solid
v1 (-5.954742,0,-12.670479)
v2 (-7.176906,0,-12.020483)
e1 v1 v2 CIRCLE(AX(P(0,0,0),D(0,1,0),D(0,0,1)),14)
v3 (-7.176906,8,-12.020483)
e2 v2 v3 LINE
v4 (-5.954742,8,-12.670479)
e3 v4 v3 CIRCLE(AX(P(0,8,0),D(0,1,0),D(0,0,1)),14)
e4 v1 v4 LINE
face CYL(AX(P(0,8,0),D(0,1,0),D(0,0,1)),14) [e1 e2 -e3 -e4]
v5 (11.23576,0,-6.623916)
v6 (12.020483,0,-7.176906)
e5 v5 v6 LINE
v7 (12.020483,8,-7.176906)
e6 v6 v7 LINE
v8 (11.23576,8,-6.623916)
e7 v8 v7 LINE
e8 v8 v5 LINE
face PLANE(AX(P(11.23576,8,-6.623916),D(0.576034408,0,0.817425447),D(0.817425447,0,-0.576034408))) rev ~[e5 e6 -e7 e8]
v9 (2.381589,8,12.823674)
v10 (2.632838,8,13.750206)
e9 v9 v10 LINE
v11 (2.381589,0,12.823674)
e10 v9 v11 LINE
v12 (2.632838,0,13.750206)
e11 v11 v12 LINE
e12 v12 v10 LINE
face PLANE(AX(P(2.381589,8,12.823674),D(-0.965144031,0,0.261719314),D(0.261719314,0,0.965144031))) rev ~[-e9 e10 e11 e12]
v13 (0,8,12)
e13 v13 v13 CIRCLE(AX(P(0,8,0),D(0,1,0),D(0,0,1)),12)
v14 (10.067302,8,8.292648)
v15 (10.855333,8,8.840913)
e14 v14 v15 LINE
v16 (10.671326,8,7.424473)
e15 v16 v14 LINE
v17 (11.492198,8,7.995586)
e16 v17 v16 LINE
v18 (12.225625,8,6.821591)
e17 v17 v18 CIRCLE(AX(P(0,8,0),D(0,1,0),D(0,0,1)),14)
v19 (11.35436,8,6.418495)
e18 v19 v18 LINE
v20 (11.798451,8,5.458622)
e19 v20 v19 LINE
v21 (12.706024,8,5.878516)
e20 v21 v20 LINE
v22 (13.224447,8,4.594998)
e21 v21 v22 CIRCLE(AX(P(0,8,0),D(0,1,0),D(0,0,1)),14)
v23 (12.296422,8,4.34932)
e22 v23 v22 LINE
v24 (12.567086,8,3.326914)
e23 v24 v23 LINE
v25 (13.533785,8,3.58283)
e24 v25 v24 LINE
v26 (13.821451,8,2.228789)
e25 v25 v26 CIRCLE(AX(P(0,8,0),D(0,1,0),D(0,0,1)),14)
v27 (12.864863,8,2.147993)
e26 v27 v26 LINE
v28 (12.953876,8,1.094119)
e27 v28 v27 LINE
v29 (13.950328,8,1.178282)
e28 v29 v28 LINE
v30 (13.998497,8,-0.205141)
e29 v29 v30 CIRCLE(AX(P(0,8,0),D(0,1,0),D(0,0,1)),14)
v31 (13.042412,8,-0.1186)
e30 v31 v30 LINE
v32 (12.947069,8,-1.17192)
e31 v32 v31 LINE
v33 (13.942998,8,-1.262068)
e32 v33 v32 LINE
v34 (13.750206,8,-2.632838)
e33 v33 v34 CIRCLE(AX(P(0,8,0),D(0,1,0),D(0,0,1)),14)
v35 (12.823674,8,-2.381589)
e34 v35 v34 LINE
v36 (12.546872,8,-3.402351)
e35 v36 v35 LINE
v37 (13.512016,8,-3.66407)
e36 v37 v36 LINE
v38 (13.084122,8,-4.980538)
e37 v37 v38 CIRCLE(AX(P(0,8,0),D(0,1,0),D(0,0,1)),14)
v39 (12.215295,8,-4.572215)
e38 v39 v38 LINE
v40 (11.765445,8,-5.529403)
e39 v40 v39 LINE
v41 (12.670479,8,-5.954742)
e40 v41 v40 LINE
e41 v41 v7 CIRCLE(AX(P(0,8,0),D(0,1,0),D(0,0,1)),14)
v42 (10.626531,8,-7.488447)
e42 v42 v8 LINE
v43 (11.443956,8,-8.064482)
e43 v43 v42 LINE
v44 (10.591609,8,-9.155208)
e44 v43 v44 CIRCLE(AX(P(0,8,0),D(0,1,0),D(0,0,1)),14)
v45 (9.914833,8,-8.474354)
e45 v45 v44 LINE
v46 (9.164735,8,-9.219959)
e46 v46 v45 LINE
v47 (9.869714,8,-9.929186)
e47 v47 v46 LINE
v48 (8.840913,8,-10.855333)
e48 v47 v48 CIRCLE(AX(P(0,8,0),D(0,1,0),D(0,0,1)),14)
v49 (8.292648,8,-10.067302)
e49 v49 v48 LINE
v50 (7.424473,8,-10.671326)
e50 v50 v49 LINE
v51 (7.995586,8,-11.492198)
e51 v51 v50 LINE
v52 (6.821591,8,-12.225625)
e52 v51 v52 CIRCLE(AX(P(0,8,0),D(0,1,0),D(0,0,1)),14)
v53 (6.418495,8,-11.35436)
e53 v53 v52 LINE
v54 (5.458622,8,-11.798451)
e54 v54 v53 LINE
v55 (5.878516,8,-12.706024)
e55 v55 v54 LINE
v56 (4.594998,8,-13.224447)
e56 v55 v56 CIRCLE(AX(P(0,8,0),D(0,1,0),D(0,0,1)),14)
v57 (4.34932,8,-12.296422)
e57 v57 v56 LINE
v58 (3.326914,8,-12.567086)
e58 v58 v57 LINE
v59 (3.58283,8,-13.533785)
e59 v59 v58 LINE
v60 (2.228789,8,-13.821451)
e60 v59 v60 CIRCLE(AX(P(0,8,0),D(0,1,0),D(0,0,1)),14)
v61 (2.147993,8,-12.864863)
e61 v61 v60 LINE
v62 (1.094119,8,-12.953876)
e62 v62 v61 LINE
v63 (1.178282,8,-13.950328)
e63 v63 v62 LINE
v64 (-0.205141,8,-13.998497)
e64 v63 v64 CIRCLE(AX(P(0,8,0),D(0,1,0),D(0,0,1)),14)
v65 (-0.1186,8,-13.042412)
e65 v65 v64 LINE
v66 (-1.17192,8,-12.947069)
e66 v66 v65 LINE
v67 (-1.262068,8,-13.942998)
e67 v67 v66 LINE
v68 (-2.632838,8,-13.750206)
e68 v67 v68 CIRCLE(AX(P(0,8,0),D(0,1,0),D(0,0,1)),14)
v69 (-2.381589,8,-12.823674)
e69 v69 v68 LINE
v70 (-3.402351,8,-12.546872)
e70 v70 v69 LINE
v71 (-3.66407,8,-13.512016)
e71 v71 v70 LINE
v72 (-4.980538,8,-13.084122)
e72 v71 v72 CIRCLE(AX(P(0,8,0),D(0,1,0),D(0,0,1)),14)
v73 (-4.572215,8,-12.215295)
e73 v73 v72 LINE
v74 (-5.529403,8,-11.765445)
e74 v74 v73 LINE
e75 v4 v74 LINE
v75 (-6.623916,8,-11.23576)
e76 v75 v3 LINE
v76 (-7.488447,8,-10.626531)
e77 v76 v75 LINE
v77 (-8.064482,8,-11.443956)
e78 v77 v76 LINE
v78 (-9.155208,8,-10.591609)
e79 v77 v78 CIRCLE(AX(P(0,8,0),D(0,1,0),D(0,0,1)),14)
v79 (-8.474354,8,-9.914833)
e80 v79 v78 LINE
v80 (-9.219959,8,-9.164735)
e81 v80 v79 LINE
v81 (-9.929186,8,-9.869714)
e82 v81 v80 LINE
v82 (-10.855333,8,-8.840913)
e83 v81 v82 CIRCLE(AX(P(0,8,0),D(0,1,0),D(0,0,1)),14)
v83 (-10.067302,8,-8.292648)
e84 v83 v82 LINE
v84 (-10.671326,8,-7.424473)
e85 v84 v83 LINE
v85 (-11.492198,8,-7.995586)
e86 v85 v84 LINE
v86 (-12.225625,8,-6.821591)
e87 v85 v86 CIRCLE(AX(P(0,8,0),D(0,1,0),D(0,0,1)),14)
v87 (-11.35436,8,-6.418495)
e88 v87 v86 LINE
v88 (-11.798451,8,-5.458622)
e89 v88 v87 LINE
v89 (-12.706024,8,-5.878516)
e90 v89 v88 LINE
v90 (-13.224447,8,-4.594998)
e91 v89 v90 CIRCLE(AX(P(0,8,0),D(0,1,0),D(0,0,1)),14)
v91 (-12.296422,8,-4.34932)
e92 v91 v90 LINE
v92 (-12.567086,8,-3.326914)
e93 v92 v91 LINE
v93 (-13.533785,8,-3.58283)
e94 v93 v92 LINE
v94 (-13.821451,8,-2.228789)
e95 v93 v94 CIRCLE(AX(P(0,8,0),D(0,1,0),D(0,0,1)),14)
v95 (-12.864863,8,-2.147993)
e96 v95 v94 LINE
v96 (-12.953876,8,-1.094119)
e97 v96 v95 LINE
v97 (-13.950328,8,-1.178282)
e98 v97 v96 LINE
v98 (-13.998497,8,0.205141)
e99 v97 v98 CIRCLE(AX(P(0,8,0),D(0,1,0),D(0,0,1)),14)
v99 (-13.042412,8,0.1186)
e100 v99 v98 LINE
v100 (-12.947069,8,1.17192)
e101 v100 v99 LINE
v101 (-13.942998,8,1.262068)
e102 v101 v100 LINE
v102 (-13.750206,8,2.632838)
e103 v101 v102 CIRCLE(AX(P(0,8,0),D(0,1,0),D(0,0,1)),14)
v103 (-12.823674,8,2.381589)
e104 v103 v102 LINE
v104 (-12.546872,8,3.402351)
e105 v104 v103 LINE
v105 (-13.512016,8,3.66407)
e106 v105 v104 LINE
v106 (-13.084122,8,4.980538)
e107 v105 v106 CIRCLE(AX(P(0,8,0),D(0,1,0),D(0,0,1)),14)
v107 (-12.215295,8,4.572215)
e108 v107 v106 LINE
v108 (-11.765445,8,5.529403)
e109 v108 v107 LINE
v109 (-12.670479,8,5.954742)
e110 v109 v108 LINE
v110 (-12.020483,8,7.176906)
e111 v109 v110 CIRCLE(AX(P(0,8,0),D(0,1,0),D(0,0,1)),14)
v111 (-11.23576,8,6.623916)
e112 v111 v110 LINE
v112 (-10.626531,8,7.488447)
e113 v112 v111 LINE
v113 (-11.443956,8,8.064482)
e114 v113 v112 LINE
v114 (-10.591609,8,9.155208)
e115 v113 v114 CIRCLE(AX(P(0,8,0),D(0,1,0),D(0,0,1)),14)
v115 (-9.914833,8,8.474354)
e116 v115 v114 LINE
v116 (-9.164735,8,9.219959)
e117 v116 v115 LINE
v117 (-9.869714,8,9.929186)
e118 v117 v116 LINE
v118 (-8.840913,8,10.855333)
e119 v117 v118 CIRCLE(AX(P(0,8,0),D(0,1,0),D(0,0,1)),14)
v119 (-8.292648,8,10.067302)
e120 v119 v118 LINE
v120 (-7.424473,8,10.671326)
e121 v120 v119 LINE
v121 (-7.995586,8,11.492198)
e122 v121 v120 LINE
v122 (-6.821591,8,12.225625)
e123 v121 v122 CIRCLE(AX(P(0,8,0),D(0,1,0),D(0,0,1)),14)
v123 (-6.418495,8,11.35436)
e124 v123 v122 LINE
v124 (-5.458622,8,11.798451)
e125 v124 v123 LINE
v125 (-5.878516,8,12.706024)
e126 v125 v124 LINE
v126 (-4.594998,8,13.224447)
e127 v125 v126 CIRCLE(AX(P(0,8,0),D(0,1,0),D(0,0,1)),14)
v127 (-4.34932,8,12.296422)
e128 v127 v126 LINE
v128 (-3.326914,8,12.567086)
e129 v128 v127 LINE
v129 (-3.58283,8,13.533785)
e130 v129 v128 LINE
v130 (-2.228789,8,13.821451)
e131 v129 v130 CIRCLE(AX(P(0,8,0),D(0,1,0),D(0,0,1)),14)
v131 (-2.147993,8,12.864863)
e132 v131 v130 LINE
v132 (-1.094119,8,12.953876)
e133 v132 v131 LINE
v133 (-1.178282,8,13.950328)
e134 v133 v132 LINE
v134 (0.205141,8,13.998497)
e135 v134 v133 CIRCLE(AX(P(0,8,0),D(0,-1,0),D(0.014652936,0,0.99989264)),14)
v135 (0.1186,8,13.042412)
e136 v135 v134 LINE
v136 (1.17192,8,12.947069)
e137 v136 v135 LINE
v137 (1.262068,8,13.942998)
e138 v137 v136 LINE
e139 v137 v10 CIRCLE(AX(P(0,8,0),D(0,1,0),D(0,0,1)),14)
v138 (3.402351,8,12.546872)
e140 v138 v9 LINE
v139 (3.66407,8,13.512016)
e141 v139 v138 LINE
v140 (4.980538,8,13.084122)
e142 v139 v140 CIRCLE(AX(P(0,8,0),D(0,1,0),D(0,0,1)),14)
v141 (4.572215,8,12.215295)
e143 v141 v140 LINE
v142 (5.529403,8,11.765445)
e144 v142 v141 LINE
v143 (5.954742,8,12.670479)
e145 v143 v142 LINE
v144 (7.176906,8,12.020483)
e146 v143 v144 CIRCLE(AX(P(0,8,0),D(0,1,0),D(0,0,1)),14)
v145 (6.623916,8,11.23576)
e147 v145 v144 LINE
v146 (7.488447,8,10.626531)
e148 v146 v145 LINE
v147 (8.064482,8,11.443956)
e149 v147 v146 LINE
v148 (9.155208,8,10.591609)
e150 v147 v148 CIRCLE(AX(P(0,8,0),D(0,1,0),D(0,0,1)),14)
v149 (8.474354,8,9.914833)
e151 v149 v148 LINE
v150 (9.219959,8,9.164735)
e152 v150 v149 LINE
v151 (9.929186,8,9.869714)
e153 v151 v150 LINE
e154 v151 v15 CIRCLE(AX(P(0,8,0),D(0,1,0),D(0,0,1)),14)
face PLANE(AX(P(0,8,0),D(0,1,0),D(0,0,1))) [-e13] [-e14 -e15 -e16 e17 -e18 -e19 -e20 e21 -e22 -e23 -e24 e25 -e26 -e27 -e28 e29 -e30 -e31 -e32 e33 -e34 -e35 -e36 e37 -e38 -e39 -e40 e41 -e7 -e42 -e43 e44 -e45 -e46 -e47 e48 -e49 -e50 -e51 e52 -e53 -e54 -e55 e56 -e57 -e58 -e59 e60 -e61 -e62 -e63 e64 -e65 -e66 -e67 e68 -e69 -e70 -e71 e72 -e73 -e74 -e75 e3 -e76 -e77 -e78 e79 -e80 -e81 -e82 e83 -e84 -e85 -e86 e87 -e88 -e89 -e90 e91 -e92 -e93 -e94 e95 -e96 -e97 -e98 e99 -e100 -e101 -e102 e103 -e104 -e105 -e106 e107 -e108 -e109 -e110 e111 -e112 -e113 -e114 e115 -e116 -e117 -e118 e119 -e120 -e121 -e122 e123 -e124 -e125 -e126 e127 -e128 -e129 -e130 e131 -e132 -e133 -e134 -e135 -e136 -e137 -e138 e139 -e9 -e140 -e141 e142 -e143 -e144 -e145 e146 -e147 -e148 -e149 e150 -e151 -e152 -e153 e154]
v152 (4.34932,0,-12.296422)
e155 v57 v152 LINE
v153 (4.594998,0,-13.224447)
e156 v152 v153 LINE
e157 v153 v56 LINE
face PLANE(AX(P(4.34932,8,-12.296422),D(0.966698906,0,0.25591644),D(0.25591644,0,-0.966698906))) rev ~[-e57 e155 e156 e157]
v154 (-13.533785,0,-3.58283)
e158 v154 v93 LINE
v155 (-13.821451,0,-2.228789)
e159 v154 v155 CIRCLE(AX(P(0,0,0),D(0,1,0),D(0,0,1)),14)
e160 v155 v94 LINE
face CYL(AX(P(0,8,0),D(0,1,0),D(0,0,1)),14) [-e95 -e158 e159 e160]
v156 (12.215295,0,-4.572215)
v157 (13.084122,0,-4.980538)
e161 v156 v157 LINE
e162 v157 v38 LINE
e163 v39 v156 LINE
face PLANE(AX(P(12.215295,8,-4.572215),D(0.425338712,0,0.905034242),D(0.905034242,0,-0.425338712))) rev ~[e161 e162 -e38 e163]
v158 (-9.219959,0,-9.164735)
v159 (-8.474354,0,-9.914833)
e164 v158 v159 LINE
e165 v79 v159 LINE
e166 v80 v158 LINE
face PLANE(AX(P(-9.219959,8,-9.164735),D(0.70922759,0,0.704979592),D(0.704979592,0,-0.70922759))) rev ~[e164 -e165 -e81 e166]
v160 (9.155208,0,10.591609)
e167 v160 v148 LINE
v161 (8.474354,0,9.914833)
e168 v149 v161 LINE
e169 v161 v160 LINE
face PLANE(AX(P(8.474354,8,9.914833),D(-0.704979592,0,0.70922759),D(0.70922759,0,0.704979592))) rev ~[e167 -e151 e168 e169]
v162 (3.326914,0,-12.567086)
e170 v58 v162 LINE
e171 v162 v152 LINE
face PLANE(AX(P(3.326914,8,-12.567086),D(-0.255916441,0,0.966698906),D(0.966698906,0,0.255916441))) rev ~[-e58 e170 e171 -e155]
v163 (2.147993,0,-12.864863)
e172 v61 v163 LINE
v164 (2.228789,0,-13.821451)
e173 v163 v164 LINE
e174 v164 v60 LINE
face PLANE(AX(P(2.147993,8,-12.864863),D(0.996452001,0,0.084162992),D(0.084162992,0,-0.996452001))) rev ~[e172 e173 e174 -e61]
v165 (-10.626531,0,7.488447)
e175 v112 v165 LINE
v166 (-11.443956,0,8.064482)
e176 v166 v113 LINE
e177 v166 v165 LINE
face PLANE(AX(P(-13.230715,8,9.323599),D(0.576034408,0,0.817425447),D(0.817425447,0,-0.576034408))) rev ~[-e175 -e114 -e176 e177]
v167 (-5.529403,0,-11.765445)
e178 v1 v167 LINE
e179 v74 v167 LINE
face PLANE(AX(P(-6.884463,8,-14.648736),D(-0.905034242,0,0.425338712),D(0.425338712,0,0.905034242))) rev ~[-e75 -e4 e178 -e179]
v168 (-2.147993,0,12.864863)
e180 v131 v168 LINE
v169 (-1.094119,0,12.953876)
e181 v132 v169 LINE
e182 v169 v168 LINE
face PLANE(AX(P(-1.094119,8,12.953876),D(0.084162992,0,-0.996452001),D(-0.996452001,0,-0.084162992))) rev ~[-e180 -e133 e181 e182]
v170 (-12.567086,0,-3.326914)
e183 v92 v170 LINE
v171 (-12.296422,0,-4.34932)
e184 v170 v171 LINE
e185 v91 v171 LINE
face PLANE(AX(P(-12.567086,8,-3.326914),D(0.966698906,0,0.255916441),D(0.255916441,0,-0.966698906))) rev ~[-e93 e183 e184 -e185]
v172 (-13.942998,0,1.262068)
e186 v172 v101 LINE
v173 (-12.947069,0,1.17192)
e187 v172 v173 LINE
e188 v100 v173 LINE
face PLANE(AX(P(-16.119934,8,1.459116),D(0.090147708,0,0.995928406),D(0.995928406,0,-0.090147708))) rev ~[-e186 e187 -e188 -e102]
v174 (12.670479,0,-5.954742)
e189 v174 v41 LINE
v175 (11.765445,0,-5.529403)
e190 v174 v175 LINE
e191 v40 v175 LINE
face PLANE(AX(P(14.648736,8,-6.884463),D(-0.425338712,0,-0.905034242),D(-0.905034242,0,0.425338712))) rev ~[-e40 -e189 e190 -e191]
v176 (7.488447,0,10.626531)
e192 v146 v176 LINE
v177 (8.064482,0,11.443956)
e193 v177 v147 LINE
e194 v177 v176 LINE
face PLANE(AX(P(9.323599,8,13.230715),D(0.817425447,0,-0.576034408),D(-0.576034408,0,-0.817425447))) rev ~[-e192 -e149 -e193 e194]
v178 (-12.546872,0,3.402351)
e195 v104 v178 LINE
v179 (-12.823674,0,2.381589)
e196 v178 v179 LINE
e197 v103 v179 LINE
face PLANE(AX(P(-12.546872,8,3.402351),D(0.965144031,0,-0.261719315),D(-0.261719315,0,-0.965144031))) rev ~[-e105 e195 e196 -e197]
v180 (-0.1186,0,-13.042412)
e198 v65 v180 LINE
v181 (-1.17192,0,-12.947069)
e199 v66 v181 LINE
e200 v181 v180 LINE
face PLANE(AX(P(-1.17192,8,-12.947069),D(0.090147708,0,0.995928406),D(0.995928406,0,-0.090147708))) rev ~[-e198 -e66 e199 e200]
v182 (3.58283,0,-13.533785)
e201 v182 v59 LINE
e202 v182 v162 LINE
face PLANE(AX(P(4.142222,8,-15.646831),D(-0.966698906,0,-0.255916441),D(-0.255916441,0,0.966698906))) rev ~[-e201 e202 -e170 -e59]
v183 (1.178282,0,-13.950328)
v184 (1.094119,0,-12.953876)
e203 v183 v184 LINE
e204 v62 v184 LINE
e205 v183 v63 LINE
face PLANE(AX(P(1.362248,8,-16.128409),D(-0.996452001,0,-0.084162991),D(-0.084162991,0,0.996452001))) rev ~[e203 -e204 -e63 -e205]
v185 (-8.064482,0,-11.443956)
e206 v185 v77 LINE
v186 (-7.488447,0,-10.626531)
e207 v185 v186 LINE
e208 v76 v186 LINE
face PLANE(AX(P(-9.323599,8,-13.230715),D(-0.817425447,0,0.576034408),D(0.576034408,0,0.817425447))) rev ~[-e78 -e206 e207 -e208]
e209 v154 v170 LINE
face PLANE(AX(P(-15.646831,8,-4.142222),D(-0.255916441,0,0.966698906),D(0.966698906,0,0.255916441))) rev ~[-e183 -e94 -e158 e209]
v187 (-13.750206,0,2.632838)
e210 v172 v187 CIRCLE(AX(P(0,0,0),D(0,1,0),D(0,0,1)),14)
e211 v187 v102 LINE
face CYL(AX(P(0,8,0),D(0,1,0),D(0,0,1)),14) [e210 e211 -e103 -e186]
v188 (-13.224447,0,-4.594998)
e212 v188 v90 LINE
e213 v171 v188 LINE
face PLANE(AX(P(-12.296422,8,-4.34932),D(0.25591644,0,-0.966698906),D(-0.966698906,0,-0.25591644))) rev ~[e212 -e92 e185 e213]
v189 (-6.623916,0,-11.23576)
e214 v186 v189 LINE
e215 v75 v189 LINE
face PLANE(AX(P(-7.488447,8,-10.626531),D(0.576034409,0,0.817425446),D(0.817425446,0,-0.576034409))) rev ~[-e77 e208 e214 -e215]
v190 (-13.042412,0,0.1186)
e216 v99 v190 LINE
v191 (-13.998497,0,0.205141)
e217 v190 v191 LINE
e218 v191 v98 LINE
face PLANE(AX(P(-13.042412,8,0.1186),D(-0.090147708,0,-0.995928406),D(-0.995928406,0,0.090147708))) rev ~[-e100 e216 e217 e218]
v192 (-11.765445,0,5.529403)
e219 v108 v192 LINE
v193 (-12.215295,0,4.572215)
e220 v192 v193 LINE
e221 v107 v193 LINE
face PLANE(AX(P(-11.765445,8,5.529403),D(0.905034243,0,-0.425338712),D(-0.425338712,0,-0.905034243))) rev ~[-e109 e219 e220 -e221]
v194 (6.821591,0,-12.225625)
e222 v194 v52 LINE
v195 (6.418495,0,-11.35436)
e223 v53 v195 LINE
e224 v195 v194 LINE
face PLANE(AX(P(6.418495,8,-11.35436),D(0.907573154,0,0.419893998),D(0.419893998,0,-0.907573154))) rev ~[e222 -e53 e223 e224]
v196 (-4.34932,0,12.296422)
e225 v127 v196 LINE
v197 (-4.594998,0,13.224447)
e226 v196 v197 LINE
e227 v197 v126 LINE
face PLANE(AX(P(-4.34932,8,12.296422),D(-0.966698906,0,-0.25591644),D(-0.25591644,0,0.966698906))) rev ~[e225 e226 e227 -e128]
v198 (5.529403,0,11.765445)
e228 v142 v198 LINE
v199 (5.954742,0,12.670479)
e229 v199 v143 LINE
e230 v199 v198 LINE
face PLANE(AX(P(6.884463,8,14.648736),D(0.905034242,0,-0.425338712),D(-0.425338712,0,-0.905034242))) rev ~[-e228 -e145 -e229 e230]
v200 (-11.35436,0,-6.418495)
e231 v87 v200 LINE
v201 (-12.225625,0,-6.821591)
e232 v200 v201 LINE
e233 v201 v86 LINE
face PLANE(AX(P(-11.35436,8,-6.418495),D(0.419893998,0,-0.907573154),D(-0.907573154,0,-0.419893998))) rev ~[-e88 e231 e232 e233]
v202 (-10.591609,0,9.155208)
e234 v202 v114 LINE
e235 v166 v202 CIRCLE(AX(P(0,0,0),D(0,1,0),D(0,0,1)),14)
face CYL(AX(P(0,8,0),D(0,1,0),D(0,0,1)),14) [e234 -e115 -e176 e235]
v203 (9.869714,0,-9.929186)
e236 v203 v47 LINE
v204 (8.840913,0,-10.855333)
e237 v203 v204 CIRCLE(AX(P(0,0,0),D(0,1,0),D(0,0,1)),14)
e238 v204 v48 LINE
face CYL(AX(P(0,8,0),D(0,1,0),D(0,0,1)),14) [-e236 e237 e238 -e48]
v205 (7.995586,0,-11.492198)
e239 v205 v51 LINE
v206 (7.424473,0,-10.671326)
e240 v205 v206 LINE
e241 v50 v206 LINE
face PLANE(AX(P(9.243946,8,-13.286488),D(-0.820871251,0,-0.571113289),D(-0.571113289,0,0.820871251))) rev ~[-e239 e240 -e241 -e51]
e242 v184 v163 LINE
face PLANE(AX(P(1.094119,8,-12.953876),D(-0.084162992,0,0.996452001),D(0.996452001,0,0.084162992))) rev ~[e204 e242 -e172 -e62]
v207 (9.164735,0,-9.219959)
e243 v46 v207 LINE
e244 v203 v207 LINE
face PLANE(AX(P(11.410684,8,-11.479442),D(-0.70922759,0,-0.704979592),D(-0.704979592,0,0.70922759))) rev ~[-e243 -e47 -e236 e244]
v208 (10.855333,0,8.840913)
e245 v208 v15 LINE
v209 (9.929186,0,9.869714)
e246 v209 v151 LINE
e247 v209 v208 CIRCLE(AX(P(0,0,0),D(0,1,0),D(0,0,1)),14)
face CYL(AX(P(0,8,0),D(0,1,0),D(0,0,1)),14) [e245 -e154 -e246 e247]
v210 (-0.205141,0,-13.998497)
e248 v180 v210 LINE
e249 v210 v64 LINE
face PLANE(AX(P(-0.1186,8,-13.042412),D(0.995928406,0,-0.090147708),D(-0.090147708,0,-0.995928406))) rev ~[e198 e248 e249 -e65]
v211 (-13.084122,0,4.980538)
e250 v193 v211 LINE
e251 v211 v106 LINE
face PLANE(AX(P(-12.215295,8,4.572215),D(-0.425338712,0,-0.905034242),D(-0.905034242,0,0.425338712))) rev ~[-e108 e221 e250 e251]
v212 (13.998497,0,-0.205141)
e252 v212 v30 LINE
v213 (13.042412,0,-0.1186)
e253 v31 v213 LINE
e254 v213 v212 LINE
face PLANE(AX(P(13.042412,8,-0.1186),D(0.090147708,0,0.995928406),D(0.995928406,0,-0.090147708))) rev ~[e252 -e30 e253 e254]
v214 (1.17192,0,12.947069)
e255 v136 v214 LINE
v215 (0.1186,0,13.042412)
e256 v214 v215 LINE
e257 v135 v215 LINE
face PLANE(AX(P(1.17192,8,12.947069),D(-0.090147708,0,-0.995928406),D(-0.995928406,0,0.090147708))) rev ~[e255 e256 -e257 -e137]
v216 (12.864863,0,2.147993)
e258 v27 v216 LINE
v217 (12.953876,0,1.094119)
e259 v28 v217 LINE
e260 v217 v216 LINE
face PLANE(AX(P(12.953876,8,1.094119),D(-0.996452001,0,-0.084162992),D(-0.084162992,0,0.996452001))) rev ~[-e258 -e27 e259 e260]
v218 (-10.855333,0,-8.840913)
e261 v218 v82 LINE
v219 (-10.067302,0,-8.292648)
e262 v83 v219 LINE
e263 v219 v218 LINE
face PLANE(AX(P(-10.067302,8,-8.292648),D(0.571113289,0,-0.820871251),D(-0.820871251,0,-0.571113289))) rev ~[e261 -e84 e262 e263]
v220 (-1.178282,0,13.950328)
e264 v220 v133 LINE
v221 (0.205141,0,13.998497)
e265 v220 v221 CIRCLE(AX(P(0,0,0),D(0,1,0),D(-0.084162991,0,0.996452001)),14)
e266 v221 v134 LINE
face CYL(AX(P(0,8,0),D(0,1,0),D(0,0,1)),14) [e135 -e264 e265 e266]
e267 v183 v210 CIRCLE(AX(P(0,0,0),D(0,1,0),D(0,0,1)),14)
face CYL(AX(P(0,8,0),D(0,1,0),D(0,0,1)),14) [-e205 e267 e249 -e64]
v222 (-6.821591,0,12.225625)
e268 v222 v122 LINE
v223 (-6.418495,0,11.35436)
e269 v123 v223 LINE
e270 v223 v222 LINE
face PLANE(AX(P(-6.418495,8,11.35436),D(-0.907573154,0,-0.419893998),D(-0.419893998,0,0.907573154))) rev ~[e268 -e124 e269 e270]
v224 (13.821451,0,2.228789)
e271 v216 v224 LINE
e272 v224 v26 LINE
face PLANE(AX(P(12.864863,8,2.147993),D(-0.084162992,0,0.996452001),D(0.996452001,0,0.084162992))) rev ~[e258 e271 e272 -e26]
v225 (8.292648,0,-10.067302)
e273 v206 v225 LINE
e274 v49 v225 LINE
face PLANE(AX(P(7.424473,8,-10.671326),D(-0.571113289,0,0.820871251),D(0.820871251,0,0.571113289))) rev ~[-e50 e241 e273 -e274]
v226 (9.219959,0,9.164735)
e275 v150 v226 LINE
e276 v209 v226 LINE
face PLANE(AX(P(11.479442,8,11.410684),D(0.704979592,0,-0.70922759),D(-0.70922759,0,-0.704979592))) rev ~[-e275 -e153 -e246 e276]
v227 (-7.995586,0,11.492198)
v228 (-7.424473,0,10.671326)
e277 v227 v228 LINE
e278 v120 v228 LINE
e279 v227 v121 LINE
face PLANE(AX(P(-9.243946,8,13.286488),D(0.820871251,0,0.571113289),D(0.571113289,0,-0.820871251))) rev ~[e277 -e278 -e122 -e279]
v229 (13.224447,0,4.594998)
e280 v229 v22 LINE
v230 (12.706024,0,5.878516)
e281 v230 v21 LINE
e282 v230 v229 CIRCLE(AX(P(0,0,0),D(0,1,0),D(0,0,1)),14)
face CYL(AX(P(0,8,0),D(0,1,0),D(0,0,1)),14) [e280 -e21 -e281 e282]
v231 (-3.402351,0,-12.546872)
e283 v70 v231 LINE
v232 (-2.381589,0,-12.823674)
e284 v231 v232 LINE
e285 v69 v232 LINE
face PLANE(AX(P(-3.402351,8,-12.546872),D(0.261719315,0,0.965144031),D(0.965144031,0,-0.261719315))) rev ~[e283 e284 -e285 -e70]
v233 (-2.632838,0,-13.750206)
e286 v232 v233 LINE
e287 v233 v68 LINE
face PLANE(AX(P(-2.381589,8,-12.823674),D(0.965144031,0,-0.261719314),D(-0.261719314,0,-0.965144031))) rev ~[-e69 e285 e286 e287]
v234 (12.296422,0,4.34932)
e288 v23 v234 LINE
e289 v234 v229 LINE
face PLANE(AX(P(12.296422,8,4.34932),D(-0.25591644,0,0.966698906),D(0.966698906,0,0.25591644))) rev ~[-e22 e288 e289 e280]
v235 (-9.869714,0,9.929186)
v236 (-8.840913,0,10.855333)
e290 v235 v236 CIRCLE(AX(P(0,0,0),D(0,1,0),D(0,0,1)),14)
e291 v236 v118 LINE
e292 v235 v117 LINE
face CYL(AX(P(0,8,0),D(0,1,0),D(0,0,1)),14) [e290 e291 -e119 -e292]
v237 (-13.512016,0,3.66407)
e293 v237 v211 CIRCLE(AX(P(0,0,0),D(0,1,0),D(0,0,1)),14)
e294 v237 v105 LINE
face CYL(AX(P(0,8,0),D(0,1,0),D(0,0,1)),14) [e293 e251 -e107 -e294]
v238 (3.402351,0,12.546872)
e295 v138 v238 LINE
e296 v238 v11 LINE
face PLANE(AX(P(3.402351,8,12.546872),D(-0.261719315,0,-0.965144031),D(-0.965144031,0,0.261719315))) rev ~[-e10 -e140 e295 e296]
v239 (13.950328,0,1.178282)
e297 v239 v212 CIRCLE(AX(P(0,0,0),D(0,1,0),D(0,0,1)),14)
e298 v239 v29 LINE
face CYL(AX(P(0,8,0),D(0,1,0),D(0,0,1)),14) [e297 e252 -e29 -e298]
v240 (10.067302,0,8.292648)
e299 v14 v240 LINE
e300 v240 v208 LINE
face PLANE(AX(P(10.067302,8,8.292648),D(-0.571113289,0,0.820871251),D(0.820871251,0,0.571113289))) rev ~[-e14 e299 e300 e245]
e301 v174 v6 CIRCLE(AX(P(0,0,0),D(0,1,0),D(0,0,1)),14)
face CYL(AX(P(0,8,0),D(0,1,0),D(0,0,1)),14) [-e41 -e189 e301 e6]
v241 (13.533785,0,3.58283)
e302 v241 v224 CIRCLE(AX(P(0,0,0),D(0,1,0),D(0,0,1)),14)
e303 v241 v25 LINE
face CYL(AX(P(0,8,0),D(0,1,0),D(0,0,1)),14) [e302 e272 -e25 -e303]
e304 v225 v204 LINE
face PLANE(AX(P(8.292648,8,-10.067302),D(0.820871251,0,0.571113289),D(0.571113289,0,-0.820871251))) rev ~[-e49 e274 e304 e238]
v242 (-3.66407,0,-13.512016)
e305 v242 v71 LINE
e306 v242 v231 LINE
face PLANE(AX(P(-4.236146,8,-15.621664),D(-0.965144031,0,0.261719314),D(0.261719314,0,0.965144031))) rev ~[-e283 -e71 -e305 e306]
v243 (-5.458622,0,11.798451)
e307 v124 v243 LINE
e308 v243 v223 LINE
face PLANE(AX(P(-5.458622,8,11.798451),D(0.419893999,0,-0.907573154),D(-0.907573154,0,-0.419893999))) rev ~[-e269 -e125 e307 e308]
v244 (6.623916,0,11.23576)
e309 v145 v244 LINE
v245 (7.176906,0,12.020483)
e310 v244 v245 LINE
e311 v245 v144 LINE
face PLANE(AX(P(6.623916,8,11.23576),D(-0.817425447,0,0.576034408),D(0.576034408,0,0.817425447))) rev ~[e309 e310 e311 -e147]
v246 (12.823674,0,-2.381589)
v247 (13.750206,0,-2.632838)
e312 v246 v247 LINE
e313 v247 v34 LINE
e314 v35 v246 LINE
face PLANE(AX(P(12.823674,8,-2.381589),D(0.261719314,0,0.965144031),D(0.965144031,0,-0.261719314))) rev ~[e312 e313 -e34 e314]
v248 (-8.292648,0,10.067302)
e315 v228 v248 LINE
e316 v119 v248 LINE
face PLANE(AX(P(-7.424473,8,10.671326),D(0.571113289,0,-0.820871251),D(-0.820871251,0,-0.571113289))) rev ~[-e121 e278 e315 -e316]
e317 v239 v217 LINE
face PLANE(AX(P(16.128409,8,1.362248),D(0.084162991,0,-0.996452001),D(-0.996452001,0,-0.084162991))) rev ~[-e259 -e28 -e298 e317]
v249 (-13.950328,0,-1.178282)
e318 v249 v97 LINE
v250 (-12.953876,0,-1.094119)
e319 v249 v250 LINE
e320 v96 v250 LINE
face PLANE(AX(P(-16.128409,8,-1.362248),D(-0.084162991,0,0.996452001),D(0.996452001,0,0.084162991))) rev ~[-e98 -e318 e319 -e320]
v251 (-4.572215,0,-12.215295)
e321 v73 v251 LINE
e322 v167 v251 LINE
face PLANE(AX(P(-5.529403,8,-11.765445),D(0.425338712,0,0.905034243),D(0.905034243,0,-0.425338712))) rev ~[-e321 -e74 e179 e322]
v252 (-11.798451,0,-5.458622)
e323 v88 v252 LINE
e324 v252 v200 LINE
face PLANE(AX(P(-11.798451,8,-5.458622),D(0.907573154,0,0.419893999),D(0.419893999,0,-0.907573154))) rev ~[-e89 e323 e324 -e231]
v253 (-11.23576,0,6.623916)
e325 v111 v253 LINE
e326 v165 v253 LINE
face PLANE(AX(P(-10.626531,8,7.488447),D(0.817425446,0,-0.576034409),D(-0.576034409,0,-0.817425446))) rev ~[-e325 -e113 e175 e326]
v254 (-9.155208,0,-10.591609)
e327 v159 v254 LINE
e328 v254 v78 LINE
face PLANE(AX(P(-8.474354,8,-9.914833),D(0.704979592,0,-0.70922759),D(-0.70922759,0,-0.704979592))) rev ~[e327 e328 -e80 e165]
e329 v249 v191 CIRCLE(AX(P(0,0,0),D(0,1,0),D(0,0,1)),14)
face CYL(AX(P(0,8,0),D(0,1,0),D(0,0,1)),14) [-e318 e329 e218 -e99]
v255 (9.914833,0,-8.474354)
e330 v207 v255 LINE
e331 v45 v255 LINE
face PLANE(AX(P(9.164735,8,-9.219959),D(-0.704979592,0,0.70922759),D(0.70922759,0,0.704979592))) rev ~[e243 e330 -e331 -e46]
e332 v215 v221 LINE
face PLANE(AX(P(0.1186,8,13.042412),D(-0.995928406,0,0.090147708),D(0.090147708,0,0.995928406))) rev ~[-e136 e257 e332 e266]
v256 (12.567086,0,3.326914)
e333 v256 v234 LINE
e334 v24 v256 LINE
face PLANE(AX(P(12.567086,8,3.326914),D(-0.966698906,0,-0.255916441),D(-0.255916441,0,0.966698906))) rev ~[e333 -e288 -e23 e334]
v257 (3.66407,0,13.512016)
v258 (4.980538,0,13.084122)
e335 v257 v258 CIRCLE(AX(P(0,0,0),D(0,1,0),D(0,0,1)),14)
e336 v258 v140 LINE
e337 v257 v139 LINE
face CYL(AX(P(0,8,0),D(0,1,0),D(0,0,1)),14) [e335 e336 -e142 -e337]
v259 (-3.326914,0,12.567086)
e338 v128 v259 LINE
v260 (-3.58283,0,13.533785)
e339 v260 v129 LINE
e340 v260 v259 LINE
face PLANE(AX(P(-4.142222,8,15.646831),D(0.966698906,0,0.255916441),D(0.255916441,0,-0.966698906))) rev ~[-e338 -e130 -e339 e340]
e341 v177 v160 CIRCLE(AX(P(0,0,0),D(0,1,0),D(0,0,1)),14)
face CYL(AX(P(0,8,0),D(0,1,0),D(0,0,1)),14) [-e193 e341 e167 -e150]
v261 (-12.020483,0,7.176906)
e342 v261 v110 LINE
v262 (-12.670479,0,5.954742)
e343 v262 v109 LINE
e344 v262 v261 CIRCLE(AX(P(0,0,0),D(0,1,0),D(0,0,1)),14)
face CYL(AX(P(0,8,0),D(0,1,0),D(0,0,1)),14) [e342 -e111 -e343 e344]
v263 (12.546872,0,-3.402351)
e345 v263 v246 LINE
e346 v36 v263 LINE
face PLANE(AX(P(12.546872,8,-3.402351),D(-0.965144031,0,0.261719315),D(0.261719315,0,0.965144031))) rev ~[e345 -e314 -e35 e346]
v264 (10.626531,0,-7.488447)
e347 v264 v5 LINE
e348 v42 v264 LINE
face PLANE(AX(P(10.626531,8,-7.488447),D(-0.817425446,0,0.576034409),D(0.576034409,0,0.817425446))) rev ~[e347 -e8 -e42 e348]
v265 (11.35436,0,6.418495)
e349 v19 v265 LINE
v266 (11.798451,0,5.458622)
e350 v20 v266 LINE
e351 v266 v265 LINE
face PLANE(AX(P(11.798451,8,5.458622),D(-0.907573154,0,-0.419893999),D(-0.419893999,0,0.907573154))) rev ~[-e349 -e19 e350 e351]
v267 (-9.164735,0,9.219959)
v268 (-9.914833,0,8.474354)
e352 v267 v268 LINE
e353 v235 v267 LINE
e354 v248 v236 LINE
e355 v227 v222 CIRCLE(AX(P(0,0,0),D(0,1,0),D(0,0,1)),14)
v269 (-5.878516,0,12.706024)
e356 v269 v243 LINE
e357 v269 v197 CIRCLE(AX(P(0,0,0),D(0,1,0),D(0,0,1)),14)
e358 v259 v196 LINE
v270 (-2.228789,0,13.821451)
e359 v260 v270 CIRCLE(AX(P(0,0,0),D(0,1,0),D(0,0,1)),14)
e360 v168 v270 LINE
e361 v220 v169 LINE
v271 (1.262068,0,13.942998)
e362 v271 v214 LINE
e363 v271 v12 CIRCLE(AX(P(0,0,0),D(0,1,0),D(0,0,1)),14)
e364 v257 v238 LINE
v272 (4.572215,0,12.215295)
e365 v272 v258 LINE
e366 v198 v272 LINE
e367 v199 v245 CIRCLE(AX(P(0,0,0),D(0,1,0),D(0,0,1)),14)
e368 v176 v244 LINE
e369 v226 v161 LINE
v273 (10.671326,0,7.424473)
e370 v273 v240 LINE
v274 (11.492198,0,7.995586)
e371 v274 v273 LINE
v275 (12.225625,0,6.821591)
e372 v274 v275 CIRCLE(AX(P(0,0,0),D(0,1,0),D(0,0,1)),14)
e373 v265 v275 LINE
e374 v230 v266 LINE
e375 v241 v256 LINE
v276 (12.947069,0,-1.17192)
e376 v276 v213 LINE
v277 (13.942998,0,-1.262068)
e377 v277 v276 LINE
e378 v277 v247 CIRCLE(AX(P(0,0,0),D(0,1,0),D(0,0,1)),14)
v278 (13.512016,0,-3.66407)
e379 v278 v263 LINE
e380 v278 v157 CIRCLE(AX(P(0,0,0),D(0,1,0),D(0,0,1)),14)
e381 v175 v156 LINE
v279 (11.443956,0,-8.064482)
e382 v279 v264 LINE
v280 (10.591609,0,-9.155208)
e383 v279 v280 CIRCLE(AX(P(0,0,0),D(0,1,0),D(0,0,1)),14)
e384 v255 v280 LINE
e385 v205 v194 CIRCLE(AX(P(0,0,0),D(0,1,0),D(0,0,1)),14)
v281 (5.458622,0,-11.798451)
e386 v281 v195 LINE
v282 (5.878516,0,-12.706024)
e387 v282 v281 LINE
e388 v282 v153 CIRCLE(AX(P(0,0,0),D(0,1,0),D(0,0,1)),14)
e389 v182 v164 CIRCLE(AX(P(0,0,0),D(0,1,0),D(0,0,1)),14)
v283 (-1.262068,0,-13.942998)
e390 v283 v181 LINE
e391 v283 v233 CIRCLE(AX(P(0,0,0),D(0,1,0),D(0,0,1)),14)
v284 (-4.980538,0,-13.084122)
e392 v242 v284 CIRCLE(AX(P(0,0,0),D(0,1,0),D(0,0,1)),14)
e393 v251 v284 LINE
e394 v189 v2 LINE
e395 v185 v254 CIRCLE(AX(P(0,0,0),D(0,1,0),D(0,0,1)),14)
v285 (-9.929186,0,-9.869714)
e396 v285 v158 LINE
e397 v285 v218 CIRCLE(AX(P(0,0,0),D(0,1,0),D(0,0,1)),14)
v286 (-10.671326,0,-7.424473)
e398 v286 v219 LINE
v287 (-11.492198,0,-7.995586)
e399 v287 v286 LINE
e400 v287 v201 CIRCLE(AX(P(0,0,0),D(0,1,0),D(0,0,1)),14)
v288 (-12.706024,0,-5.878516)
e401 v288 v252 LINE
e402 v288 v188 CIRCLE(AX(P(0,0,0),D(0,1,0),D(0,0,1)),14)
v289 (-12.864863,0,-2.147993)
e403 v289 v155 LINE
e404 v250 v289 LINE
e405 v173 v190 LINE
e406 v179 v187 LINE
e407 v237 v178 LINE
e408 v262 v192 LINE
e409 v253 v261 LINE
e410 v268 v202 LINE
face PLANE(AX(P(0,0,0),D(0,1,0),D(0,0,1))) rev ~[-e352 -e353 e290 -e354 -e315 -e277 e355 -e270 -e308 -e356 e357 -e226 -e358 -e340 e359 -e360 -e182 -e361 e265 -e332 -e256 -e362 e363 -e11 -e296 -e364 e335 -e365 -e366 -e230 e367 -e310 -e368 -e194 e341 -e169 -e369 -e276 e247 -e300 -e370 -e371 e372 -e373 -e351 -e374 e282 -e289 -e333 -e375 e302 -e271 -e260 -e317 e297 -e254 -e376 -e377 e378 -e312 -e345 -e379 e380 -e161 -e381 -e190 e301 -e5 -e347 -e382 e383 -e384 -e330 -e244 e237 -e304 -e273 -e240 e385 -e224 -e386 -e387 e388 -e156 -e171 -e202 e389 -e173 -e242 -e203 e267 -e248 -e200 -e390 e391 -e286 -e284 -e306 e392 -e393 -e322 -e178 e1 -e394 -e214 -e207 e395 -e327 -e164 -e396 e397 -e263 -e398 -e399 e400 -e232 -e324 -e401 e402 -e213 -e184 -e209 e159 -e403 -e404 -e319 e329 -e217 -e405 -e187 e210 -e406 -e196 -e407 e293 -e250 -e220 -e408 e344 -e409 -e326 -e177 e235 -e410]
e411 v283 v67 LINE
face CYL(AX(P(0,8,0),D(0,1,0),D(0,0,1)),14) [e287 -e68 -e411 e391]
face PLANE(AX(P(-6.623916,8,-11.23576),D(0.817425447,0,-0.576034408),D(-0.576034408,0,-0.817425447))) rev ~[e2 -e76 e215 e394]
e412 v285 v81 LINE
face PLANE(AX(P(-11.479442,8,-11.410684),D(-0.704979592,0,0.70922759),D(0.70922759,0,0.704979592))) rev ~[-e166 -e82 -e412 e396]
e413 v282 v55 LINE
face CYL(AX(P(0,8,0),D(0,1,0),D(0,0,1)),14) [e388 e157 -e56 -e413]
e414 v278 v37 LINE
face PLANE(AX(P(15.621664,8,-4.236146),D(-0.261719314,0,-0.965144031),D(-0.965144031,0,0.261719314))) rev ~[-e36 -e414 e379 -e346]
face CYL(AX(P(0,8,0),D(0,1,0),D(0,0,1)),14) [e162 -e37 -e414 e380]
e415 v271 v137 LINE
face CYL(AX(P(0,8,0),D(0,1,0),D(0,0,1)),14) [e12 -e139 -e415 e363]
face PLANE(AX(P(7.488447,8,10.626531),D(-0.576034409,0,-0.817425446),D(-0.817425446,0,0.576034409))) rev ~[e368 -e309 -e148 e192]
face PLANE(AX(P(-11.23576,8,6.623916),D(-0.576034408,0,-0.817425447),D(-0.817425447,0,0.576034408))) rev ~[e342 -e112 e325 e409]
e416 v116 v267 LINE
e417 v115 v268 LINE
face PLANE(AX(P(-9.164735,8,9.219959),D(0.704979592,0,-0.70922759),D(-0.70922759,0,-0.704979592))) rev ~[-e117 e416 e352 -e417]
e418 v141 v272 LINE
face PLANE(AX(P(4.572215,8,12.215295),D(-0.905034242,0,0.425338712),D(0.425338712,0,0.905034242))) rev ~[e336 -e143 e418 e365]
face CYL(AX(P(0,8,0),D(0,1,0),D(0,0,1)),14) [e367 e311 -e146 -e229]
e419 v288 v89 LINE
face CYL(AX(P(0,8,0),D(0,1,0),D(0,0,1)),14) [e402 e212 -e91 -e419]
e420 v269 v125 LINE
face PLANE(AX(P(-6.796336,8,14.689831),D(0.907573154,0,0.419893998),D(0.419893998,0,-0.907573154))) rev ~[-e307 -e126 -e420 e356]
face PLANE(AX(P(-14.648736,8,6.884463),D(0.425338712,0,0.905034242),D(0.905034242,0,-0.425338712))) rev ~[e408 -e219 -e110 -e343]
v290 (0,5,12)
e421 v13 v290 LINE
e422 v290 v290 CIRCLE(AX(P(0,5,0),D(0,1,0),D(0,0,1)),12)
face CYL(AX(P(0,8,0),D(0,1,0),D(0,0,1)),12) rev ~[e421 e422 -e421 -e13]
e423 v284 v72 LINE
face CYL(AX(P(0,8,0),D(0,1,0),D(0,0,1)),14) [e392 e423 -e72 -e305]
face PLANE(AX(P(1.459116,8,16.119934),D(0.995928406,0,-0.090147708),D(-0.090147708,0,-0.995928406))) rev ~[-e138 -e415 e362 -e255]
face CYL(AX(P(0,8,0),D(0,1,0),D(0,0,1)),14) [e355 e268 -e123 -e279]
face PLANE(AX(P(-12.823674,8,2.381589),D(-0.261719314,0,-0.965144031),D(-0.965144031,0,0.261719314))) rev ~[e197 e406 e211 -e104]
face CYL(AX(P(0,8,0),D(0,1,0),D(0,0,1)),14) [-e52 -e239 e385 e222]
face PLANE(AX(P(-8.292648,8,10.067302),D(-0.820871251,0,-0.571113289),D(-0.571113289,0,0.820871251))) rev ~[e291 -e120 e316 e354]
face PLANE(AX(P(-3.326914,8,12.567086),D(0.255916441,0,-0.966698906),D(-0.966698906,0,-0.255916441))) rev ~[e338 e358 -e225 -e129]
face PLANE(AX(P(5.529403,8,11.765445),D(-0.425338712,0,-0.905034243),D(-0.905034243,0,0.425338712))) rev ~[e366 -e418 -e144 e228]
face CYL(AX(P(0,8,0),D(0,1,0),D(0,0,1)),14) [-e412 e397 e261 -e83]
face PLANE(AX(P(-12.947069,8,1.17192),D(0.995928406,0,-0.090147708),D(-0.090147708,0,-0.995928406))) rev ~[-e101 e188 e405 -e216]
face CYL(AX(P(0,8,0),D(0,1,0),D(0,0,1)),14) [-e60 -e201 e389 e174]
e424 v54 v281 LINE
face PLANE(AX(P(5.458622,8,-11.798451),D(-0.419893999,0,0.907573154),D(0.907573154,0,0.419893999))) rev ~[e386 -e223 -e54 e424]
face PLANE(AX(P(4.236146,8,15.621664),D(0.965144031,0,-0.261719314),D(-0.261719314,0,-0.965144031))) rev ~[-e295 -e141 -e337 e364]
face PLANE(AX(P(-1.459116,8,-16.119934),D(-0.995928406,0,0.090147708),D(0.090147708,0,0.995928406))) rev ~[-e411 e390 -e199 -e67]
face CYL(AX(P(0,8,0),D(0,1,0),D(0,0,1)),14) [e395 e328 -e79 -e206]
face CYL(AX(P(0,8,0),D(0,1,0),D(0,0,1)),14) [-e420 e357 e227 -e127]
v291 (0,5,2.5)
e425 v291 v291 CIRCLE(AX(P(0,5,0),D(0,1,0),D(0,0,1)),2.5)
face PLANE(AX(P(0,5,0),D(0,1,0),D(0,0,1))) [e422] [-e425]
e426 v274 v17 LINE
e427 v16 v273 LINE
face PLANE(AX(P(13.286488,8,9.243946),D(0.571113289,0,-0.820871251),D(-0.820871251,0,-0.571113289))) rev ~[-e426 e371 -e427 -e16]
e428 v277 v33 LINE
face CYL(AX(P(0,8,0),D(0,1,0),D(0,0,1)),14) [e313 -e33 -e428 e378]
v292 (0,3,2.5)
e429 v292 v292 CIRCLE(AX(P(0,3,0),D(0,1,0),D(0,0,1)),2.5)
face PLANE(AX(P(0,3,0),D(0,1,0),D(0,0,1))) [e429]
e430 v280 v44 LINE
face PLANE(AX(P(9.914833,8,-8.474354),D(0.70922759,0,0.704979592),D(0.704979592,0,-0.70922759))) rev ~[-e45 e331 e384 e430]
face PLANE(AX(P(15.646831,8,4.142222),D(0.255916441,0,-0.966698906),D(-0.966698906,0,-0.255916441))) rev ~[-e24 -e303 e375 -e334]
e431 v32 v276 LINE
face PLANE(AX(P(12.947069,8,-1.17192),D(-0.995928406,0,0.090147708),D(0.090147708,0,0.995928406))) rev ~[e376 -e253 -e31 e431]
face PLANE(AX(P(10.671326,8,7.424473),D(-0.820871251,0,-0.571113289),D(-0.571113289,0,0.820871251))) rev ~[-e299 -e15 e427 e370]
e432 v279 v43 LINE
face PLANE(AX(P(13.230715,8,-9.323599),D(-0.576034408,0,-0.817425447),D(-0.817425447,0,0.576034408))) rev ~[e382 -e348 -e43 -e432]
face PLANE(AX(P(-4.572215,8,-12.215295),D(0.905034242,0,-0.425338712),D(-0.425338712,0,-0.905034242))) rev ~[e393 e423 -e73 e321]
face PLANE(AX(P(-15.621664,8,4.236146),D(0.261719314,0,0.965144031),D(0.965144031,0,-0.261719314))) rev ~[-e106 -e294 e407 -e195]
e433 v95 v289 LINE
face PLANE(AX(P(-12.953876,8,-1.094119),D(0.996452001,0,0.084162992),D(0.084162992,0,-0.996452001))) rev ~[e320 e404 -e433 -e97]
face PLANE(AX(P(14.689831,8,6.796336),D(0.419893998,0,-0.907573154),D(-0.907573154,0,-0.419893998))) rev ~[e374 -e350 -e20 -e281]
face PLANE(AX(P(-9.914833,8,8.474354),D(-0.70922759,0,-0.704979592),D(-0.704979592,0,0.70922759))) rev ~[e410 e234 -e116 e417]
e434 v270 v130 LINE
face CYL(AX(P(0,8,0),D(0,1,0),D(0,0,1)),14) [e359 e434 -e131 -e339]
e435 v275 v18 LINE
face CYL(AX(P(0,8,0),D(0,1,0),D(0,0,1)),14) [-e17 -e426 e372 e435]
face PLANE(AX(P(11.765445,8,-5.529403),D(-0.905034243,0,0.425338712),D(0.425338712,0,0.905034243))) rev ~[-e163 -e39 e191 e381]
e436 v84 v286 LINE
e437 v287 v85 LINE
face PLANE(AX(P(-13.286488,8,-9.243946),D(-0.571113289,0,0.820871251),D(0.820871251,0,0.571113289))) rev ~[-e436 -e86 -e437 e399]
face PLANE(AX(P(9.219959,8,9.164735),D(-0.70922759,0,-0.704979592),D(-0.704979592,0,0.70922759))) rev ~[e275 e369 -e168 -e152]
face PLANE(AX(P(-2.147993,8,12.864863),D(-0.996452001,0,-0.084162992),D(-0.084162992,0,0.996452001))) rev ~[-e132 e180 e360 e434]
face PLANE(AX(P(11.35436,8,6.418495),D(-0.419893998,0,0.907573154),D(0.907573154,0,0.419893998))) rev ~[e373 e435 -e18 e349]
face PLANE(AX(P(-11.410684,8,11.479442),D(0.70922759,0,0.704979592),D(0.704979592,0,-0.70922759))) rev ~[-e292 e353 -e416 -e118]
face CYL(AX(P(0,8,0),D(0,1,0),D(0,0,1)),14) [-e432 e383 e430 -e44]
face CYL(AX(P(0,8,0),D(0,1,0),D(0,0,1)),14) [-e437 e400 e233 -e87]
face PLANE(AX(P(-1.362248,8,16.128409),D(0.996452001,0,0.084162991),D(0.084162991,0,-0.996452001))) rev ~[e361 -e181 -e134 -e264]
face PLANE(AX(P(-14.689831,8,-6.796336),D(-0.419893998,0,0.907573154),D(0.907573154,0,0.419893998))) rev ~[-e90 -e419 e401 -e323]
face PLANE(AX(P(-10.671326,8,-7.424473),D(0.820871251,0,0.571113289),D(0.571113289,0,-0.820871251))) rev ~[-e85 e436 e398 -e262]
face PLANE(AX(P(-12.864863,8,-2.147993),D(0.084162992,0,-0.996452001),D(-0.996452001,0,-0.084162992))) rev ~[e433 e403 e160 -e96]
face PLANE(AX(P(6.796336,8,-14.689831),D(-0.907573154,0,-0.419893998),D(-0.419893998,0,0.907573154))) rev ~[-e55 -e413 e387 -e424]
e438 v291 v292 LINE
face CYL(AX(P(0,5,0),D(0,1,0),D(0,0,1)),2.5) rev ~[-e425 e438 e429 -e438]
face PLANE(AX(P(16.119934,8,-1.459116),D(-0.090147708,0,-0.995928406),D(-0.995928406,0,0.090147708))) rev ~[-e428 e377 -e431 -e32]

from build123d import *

# Parameters (mm, degrees)
SKETCH_1_R          = 13
EXTRUDE_1_DEPTH     = 8
SKETCH_6_R          = 14
EXTRUDE_4_DEPTH     = 8
SKETCH_2_R          = 12
CUT_EXTRUDE_1_DEPTH = 3
CUT_EXTRUDE_2_DEPTH = 22.354156504
SKETCH_8_R          = 2.5
CUT_EXTRUDE_3_DEPTH = 2


with BuildPart() as part:
    # 草图1 → 凸台-拉伸1 (new body)
    with BuildSketch(Plane(origin=(0, 0, 0), x_dir=(1, 0, 0), z_dir=(0, 1, 0))):
        with Locations(Location((0, 0, 0), (0, 0, 270))):
            Circle(SKETCH_1_R)
    extrude(amount=EXTRUDE_1_DEPTH)

    # 草图6 → 凸台-拉伸4 (add, through all)
    with BuildSketch(Plane(origin=(0, 8, 0), x_dir=(1, 0, 0), z_dir=(0, 1, 0))):
        with Locations(Location((0, 0, 0), (0, 0, 270))):
            Circle(SKETCH_6_R)
    extrude(amount=-EXTRUDE_4_DEPTH)

    # 草图2 → 切除-拉伸1 (cut)
    with BuildSketch(Plane(origin=(0, 8, 0), x_dir=(1, 0, 0), z_dir=(0, 1, 0))):
        with Locations(Location((0, 0, 0), (0, 0, 270))):
            Circle(SKETCH_2_R)
    extrude(amount=-CUT_EXTRUDE_1_DEPTH, mode=Mode.SUBTRACT)

    # 草图7 → 切除-拉伸2 (cut, through all)
    with BuildSketch(Plane(origin=(0, 8, 0), x_dir=(1, 0, 0), z_dir=(0, 1, 0))):
        Polygon((-15.646830527, 4.142221687), (-12.567085782, 3.326913727), (-12.296421758, 4.349320163), (-15.376166503, 5.164628122), align=None)
        Polygon((-14.689830765, 6.79633564), (-11.798451005, 5.458621977), (-11.354359961, 6.418495447), (-14.245739722, 7.756209109), align=None)
        Polygon((-13.28648793, 9.243946373), (-10.671326264, 7.42447276), (-10.067301683, 8.292647994), (-12.682463348, 10.112121607), align=None)
        Polygon((-11.479441881, 11.410684473), (-9.219958675, 9.164734695), (-8.474353537, 9.914832629), (-10.733836743, 12.160782407), align=None)
        Polygon((-9.3235988, 13.230714699), (-7.488447307, 10.626530804), (-6.623916447, 11.235760092), (-8.45906794, 13.839943987), align=None)
        Polygon((-6.884462888, 14.648736355), (-5.529403257, 11.765445152), (-4.572215008, 12.215294669), (-5.927274639, 15.098585872), align=None)
        Polygon((-4.236146054, 15.621663569), (-3.402351087, 12.546872402), (-2.381589129, 12.8236737), (-3.215384096, 15.898464866), align=None)
        Polygon((-1.459116066, 16.11993444), (-1.171920201, 12.947069284), (-0.11859987, 13.042411894), (-0.405795735, 16.21527705), align=None)
        Polygon((1.362248425, 16.12840926), (1.094118888, 12.953876017), (2.147992986, 12.864863002), (2.416122524, 16.039396246), align=None)
        Polygon((4.142221687, 15.646830527), (3.326913727, 12.567085782), (4.349320163, 12.296421758), (5.164628122, 15.376166503), align=None)
        Polygon((6.79633564, 14.689830765), (5.458621977, 11.798451005), (6.418495447, 11.354359961), (7.756209109, 14.245739722), align=None)
        Polygon((9.243946373, 13.28648793), (7.42447276, 10.671326264), (8.292647994, 10.067301683), (10.112121607, 12.682463348), align=None)
        Polygon((11.410684473, 11.479441881), (9.164734695, 9.219958675), (9.914832629, 8.474353537), (12.160782407, 10.733836743), align=None)
        Polygon((13.230714699, 9.3235988), (10.626530804, 7.488447307), (11.235760092, 6.623916447), (13.839943987, 8.45906794), align=None)
        Polygon((14.648736355, 6.884462888), (11.765445152, 5.529403257), (12.215294669, 4.572215008), (15.098585872, 5.927274639), align=None)
        Polygon((15.621663569, 4.236146054), (12.546872402, 3.402351087), (12.8236737, 2.381589129), (15.898464866, 3.215384096), align=None)
        Polygon((16.11993444, 1.459116066), (12.947069284, 1.171920201), (13.042411894, 0.11859987), (16.21527705, 0.405795735), align=None)
        Polygon((16.12840926, -1.362248425), (12.953876017, -1.094118888), (12.864863002, -2.147992986), (16.039396246, -2.416122524), align=None)
        Polygon((15.646830527, -4.142221687), (12.567085782, -3.326913727), (12.296421758, -4.349320163), (15.376166503, -5.164628122), align=None)
        Polygon((14.689830765, -6.79633564), (11.798451005, -5.458621977), (11.354359961, -6.418495447), (14.245739722, -7.756209109), align=None)
        Polygon((13.28648793, -9.243946373), (10.671326264, -7.42447276), (10.067301683, -8.292647994), (12.682463348, -10.112121607), align=None)
        Polygon((11.479441881, -11.410684473), (9.219958675, -9.164734695), (8.474353537, -9.914832629), (10.733836743, -12.160782407), align=None)
        Polygon((9.3235988, -13.230714699), (7.488447307, -10.626530804), (6.623916447, -11.235760092), (8.45906794, -13.839943987), align=None)
        Polygon((6.884462888, -14.648736355), (5.529403257, -11.765445152), (4.572215008, -12.215294669), (5.927274639, -15.098585872), align=None)
        Polygon((4.236146054, -15.621663569), (3.402351087, -12.546872402), (2.381589129, -12.8236737), (3.215384096, -15.898464866), align=None)
        Polygon((1.459116066, -16.11993444), (1.171920201, -12.947069284), (0.11859987, -13.042411894), (0.405795735, -16.21527705), align=None)
        Polygon((-1.362248425, -16.12840926), (-1.094118888, -12.953876017), (-2.147992986, -12.864863002), (-2.416122524, -16.039396246), align=None)
        Polygon((-4.142221687, -15.646830527), (-3.326913727, -12.567085782), (-4.349320163, -12.296421758), (-5.164628122, -15.376166503), align=None)
        Polygon((-6.79633564, -14.689830765), (-5.458621977, -11.798451005), (-6.418495447, -11.354359961), (-7.756209109, -14.245739722), align=None)
        Polygon((-9.243946373, -13.28648793), (-7.42447276, -10.671326264), (-8.292647994, -10.067301683), (-10.112121607, -12.682463348), align=None)
        Polygon((-11.410684473, -11.479441881), (-9.164734695, -9.219958675), (-9.914832629, -8.474353537), (-12.160782407, -10.733836743), align=None)
        Polygon((-13.230714699, -9.3235988), (-10.626530804, -7.488447307), (-11.235760092, -6.623916447), (-13.839943987, -8.45906794), align=None)
        Polygon((-14.648736355, -6.884462888), (-11.765445152, -5.529403257), (-12.215294669, -4.572215008), (-15.098585872, -5.927274639), align=None)
        Polygon((-15.621663569, -4.236146054), (-12.546872402, -3.402351087), (-12.8236737, -2.381589129), (-15.898464866, -3.215384096), align=None)
        Polygon((-16.11993444, -1.459116066), (-12.947069284, -1.171920201), (-13.042411894, -0.11859987), (-16.21527705, -0.405795735), align=None)
        Polygon((-16.12840926, 1.362248425), (-12.953876017, 1.094118888), (-12.864863002, 2.147992986), (-16.039396246, 2.416122524), align=None)
    extrude(amount=-CUT_EXTRUDE_2_DEPTH, mode=Mode.SUBTRACT)

    # 草图8 → 切除-拉伸3 (cut)
    with BuildSketch(Plane(origin=(0, 5, 0), x_dir=(1, 0, 0), z_dir=(0, 1, 0))):
        with Locations(Location((0, 0, 0), (0, 0, 270))):
            Circle(SKETCH_8_R)
    extrude(amount=-CUT_EXTRUDE_3_DEPTH, mode=Mode.SUBTRACT)


solid = part.part
